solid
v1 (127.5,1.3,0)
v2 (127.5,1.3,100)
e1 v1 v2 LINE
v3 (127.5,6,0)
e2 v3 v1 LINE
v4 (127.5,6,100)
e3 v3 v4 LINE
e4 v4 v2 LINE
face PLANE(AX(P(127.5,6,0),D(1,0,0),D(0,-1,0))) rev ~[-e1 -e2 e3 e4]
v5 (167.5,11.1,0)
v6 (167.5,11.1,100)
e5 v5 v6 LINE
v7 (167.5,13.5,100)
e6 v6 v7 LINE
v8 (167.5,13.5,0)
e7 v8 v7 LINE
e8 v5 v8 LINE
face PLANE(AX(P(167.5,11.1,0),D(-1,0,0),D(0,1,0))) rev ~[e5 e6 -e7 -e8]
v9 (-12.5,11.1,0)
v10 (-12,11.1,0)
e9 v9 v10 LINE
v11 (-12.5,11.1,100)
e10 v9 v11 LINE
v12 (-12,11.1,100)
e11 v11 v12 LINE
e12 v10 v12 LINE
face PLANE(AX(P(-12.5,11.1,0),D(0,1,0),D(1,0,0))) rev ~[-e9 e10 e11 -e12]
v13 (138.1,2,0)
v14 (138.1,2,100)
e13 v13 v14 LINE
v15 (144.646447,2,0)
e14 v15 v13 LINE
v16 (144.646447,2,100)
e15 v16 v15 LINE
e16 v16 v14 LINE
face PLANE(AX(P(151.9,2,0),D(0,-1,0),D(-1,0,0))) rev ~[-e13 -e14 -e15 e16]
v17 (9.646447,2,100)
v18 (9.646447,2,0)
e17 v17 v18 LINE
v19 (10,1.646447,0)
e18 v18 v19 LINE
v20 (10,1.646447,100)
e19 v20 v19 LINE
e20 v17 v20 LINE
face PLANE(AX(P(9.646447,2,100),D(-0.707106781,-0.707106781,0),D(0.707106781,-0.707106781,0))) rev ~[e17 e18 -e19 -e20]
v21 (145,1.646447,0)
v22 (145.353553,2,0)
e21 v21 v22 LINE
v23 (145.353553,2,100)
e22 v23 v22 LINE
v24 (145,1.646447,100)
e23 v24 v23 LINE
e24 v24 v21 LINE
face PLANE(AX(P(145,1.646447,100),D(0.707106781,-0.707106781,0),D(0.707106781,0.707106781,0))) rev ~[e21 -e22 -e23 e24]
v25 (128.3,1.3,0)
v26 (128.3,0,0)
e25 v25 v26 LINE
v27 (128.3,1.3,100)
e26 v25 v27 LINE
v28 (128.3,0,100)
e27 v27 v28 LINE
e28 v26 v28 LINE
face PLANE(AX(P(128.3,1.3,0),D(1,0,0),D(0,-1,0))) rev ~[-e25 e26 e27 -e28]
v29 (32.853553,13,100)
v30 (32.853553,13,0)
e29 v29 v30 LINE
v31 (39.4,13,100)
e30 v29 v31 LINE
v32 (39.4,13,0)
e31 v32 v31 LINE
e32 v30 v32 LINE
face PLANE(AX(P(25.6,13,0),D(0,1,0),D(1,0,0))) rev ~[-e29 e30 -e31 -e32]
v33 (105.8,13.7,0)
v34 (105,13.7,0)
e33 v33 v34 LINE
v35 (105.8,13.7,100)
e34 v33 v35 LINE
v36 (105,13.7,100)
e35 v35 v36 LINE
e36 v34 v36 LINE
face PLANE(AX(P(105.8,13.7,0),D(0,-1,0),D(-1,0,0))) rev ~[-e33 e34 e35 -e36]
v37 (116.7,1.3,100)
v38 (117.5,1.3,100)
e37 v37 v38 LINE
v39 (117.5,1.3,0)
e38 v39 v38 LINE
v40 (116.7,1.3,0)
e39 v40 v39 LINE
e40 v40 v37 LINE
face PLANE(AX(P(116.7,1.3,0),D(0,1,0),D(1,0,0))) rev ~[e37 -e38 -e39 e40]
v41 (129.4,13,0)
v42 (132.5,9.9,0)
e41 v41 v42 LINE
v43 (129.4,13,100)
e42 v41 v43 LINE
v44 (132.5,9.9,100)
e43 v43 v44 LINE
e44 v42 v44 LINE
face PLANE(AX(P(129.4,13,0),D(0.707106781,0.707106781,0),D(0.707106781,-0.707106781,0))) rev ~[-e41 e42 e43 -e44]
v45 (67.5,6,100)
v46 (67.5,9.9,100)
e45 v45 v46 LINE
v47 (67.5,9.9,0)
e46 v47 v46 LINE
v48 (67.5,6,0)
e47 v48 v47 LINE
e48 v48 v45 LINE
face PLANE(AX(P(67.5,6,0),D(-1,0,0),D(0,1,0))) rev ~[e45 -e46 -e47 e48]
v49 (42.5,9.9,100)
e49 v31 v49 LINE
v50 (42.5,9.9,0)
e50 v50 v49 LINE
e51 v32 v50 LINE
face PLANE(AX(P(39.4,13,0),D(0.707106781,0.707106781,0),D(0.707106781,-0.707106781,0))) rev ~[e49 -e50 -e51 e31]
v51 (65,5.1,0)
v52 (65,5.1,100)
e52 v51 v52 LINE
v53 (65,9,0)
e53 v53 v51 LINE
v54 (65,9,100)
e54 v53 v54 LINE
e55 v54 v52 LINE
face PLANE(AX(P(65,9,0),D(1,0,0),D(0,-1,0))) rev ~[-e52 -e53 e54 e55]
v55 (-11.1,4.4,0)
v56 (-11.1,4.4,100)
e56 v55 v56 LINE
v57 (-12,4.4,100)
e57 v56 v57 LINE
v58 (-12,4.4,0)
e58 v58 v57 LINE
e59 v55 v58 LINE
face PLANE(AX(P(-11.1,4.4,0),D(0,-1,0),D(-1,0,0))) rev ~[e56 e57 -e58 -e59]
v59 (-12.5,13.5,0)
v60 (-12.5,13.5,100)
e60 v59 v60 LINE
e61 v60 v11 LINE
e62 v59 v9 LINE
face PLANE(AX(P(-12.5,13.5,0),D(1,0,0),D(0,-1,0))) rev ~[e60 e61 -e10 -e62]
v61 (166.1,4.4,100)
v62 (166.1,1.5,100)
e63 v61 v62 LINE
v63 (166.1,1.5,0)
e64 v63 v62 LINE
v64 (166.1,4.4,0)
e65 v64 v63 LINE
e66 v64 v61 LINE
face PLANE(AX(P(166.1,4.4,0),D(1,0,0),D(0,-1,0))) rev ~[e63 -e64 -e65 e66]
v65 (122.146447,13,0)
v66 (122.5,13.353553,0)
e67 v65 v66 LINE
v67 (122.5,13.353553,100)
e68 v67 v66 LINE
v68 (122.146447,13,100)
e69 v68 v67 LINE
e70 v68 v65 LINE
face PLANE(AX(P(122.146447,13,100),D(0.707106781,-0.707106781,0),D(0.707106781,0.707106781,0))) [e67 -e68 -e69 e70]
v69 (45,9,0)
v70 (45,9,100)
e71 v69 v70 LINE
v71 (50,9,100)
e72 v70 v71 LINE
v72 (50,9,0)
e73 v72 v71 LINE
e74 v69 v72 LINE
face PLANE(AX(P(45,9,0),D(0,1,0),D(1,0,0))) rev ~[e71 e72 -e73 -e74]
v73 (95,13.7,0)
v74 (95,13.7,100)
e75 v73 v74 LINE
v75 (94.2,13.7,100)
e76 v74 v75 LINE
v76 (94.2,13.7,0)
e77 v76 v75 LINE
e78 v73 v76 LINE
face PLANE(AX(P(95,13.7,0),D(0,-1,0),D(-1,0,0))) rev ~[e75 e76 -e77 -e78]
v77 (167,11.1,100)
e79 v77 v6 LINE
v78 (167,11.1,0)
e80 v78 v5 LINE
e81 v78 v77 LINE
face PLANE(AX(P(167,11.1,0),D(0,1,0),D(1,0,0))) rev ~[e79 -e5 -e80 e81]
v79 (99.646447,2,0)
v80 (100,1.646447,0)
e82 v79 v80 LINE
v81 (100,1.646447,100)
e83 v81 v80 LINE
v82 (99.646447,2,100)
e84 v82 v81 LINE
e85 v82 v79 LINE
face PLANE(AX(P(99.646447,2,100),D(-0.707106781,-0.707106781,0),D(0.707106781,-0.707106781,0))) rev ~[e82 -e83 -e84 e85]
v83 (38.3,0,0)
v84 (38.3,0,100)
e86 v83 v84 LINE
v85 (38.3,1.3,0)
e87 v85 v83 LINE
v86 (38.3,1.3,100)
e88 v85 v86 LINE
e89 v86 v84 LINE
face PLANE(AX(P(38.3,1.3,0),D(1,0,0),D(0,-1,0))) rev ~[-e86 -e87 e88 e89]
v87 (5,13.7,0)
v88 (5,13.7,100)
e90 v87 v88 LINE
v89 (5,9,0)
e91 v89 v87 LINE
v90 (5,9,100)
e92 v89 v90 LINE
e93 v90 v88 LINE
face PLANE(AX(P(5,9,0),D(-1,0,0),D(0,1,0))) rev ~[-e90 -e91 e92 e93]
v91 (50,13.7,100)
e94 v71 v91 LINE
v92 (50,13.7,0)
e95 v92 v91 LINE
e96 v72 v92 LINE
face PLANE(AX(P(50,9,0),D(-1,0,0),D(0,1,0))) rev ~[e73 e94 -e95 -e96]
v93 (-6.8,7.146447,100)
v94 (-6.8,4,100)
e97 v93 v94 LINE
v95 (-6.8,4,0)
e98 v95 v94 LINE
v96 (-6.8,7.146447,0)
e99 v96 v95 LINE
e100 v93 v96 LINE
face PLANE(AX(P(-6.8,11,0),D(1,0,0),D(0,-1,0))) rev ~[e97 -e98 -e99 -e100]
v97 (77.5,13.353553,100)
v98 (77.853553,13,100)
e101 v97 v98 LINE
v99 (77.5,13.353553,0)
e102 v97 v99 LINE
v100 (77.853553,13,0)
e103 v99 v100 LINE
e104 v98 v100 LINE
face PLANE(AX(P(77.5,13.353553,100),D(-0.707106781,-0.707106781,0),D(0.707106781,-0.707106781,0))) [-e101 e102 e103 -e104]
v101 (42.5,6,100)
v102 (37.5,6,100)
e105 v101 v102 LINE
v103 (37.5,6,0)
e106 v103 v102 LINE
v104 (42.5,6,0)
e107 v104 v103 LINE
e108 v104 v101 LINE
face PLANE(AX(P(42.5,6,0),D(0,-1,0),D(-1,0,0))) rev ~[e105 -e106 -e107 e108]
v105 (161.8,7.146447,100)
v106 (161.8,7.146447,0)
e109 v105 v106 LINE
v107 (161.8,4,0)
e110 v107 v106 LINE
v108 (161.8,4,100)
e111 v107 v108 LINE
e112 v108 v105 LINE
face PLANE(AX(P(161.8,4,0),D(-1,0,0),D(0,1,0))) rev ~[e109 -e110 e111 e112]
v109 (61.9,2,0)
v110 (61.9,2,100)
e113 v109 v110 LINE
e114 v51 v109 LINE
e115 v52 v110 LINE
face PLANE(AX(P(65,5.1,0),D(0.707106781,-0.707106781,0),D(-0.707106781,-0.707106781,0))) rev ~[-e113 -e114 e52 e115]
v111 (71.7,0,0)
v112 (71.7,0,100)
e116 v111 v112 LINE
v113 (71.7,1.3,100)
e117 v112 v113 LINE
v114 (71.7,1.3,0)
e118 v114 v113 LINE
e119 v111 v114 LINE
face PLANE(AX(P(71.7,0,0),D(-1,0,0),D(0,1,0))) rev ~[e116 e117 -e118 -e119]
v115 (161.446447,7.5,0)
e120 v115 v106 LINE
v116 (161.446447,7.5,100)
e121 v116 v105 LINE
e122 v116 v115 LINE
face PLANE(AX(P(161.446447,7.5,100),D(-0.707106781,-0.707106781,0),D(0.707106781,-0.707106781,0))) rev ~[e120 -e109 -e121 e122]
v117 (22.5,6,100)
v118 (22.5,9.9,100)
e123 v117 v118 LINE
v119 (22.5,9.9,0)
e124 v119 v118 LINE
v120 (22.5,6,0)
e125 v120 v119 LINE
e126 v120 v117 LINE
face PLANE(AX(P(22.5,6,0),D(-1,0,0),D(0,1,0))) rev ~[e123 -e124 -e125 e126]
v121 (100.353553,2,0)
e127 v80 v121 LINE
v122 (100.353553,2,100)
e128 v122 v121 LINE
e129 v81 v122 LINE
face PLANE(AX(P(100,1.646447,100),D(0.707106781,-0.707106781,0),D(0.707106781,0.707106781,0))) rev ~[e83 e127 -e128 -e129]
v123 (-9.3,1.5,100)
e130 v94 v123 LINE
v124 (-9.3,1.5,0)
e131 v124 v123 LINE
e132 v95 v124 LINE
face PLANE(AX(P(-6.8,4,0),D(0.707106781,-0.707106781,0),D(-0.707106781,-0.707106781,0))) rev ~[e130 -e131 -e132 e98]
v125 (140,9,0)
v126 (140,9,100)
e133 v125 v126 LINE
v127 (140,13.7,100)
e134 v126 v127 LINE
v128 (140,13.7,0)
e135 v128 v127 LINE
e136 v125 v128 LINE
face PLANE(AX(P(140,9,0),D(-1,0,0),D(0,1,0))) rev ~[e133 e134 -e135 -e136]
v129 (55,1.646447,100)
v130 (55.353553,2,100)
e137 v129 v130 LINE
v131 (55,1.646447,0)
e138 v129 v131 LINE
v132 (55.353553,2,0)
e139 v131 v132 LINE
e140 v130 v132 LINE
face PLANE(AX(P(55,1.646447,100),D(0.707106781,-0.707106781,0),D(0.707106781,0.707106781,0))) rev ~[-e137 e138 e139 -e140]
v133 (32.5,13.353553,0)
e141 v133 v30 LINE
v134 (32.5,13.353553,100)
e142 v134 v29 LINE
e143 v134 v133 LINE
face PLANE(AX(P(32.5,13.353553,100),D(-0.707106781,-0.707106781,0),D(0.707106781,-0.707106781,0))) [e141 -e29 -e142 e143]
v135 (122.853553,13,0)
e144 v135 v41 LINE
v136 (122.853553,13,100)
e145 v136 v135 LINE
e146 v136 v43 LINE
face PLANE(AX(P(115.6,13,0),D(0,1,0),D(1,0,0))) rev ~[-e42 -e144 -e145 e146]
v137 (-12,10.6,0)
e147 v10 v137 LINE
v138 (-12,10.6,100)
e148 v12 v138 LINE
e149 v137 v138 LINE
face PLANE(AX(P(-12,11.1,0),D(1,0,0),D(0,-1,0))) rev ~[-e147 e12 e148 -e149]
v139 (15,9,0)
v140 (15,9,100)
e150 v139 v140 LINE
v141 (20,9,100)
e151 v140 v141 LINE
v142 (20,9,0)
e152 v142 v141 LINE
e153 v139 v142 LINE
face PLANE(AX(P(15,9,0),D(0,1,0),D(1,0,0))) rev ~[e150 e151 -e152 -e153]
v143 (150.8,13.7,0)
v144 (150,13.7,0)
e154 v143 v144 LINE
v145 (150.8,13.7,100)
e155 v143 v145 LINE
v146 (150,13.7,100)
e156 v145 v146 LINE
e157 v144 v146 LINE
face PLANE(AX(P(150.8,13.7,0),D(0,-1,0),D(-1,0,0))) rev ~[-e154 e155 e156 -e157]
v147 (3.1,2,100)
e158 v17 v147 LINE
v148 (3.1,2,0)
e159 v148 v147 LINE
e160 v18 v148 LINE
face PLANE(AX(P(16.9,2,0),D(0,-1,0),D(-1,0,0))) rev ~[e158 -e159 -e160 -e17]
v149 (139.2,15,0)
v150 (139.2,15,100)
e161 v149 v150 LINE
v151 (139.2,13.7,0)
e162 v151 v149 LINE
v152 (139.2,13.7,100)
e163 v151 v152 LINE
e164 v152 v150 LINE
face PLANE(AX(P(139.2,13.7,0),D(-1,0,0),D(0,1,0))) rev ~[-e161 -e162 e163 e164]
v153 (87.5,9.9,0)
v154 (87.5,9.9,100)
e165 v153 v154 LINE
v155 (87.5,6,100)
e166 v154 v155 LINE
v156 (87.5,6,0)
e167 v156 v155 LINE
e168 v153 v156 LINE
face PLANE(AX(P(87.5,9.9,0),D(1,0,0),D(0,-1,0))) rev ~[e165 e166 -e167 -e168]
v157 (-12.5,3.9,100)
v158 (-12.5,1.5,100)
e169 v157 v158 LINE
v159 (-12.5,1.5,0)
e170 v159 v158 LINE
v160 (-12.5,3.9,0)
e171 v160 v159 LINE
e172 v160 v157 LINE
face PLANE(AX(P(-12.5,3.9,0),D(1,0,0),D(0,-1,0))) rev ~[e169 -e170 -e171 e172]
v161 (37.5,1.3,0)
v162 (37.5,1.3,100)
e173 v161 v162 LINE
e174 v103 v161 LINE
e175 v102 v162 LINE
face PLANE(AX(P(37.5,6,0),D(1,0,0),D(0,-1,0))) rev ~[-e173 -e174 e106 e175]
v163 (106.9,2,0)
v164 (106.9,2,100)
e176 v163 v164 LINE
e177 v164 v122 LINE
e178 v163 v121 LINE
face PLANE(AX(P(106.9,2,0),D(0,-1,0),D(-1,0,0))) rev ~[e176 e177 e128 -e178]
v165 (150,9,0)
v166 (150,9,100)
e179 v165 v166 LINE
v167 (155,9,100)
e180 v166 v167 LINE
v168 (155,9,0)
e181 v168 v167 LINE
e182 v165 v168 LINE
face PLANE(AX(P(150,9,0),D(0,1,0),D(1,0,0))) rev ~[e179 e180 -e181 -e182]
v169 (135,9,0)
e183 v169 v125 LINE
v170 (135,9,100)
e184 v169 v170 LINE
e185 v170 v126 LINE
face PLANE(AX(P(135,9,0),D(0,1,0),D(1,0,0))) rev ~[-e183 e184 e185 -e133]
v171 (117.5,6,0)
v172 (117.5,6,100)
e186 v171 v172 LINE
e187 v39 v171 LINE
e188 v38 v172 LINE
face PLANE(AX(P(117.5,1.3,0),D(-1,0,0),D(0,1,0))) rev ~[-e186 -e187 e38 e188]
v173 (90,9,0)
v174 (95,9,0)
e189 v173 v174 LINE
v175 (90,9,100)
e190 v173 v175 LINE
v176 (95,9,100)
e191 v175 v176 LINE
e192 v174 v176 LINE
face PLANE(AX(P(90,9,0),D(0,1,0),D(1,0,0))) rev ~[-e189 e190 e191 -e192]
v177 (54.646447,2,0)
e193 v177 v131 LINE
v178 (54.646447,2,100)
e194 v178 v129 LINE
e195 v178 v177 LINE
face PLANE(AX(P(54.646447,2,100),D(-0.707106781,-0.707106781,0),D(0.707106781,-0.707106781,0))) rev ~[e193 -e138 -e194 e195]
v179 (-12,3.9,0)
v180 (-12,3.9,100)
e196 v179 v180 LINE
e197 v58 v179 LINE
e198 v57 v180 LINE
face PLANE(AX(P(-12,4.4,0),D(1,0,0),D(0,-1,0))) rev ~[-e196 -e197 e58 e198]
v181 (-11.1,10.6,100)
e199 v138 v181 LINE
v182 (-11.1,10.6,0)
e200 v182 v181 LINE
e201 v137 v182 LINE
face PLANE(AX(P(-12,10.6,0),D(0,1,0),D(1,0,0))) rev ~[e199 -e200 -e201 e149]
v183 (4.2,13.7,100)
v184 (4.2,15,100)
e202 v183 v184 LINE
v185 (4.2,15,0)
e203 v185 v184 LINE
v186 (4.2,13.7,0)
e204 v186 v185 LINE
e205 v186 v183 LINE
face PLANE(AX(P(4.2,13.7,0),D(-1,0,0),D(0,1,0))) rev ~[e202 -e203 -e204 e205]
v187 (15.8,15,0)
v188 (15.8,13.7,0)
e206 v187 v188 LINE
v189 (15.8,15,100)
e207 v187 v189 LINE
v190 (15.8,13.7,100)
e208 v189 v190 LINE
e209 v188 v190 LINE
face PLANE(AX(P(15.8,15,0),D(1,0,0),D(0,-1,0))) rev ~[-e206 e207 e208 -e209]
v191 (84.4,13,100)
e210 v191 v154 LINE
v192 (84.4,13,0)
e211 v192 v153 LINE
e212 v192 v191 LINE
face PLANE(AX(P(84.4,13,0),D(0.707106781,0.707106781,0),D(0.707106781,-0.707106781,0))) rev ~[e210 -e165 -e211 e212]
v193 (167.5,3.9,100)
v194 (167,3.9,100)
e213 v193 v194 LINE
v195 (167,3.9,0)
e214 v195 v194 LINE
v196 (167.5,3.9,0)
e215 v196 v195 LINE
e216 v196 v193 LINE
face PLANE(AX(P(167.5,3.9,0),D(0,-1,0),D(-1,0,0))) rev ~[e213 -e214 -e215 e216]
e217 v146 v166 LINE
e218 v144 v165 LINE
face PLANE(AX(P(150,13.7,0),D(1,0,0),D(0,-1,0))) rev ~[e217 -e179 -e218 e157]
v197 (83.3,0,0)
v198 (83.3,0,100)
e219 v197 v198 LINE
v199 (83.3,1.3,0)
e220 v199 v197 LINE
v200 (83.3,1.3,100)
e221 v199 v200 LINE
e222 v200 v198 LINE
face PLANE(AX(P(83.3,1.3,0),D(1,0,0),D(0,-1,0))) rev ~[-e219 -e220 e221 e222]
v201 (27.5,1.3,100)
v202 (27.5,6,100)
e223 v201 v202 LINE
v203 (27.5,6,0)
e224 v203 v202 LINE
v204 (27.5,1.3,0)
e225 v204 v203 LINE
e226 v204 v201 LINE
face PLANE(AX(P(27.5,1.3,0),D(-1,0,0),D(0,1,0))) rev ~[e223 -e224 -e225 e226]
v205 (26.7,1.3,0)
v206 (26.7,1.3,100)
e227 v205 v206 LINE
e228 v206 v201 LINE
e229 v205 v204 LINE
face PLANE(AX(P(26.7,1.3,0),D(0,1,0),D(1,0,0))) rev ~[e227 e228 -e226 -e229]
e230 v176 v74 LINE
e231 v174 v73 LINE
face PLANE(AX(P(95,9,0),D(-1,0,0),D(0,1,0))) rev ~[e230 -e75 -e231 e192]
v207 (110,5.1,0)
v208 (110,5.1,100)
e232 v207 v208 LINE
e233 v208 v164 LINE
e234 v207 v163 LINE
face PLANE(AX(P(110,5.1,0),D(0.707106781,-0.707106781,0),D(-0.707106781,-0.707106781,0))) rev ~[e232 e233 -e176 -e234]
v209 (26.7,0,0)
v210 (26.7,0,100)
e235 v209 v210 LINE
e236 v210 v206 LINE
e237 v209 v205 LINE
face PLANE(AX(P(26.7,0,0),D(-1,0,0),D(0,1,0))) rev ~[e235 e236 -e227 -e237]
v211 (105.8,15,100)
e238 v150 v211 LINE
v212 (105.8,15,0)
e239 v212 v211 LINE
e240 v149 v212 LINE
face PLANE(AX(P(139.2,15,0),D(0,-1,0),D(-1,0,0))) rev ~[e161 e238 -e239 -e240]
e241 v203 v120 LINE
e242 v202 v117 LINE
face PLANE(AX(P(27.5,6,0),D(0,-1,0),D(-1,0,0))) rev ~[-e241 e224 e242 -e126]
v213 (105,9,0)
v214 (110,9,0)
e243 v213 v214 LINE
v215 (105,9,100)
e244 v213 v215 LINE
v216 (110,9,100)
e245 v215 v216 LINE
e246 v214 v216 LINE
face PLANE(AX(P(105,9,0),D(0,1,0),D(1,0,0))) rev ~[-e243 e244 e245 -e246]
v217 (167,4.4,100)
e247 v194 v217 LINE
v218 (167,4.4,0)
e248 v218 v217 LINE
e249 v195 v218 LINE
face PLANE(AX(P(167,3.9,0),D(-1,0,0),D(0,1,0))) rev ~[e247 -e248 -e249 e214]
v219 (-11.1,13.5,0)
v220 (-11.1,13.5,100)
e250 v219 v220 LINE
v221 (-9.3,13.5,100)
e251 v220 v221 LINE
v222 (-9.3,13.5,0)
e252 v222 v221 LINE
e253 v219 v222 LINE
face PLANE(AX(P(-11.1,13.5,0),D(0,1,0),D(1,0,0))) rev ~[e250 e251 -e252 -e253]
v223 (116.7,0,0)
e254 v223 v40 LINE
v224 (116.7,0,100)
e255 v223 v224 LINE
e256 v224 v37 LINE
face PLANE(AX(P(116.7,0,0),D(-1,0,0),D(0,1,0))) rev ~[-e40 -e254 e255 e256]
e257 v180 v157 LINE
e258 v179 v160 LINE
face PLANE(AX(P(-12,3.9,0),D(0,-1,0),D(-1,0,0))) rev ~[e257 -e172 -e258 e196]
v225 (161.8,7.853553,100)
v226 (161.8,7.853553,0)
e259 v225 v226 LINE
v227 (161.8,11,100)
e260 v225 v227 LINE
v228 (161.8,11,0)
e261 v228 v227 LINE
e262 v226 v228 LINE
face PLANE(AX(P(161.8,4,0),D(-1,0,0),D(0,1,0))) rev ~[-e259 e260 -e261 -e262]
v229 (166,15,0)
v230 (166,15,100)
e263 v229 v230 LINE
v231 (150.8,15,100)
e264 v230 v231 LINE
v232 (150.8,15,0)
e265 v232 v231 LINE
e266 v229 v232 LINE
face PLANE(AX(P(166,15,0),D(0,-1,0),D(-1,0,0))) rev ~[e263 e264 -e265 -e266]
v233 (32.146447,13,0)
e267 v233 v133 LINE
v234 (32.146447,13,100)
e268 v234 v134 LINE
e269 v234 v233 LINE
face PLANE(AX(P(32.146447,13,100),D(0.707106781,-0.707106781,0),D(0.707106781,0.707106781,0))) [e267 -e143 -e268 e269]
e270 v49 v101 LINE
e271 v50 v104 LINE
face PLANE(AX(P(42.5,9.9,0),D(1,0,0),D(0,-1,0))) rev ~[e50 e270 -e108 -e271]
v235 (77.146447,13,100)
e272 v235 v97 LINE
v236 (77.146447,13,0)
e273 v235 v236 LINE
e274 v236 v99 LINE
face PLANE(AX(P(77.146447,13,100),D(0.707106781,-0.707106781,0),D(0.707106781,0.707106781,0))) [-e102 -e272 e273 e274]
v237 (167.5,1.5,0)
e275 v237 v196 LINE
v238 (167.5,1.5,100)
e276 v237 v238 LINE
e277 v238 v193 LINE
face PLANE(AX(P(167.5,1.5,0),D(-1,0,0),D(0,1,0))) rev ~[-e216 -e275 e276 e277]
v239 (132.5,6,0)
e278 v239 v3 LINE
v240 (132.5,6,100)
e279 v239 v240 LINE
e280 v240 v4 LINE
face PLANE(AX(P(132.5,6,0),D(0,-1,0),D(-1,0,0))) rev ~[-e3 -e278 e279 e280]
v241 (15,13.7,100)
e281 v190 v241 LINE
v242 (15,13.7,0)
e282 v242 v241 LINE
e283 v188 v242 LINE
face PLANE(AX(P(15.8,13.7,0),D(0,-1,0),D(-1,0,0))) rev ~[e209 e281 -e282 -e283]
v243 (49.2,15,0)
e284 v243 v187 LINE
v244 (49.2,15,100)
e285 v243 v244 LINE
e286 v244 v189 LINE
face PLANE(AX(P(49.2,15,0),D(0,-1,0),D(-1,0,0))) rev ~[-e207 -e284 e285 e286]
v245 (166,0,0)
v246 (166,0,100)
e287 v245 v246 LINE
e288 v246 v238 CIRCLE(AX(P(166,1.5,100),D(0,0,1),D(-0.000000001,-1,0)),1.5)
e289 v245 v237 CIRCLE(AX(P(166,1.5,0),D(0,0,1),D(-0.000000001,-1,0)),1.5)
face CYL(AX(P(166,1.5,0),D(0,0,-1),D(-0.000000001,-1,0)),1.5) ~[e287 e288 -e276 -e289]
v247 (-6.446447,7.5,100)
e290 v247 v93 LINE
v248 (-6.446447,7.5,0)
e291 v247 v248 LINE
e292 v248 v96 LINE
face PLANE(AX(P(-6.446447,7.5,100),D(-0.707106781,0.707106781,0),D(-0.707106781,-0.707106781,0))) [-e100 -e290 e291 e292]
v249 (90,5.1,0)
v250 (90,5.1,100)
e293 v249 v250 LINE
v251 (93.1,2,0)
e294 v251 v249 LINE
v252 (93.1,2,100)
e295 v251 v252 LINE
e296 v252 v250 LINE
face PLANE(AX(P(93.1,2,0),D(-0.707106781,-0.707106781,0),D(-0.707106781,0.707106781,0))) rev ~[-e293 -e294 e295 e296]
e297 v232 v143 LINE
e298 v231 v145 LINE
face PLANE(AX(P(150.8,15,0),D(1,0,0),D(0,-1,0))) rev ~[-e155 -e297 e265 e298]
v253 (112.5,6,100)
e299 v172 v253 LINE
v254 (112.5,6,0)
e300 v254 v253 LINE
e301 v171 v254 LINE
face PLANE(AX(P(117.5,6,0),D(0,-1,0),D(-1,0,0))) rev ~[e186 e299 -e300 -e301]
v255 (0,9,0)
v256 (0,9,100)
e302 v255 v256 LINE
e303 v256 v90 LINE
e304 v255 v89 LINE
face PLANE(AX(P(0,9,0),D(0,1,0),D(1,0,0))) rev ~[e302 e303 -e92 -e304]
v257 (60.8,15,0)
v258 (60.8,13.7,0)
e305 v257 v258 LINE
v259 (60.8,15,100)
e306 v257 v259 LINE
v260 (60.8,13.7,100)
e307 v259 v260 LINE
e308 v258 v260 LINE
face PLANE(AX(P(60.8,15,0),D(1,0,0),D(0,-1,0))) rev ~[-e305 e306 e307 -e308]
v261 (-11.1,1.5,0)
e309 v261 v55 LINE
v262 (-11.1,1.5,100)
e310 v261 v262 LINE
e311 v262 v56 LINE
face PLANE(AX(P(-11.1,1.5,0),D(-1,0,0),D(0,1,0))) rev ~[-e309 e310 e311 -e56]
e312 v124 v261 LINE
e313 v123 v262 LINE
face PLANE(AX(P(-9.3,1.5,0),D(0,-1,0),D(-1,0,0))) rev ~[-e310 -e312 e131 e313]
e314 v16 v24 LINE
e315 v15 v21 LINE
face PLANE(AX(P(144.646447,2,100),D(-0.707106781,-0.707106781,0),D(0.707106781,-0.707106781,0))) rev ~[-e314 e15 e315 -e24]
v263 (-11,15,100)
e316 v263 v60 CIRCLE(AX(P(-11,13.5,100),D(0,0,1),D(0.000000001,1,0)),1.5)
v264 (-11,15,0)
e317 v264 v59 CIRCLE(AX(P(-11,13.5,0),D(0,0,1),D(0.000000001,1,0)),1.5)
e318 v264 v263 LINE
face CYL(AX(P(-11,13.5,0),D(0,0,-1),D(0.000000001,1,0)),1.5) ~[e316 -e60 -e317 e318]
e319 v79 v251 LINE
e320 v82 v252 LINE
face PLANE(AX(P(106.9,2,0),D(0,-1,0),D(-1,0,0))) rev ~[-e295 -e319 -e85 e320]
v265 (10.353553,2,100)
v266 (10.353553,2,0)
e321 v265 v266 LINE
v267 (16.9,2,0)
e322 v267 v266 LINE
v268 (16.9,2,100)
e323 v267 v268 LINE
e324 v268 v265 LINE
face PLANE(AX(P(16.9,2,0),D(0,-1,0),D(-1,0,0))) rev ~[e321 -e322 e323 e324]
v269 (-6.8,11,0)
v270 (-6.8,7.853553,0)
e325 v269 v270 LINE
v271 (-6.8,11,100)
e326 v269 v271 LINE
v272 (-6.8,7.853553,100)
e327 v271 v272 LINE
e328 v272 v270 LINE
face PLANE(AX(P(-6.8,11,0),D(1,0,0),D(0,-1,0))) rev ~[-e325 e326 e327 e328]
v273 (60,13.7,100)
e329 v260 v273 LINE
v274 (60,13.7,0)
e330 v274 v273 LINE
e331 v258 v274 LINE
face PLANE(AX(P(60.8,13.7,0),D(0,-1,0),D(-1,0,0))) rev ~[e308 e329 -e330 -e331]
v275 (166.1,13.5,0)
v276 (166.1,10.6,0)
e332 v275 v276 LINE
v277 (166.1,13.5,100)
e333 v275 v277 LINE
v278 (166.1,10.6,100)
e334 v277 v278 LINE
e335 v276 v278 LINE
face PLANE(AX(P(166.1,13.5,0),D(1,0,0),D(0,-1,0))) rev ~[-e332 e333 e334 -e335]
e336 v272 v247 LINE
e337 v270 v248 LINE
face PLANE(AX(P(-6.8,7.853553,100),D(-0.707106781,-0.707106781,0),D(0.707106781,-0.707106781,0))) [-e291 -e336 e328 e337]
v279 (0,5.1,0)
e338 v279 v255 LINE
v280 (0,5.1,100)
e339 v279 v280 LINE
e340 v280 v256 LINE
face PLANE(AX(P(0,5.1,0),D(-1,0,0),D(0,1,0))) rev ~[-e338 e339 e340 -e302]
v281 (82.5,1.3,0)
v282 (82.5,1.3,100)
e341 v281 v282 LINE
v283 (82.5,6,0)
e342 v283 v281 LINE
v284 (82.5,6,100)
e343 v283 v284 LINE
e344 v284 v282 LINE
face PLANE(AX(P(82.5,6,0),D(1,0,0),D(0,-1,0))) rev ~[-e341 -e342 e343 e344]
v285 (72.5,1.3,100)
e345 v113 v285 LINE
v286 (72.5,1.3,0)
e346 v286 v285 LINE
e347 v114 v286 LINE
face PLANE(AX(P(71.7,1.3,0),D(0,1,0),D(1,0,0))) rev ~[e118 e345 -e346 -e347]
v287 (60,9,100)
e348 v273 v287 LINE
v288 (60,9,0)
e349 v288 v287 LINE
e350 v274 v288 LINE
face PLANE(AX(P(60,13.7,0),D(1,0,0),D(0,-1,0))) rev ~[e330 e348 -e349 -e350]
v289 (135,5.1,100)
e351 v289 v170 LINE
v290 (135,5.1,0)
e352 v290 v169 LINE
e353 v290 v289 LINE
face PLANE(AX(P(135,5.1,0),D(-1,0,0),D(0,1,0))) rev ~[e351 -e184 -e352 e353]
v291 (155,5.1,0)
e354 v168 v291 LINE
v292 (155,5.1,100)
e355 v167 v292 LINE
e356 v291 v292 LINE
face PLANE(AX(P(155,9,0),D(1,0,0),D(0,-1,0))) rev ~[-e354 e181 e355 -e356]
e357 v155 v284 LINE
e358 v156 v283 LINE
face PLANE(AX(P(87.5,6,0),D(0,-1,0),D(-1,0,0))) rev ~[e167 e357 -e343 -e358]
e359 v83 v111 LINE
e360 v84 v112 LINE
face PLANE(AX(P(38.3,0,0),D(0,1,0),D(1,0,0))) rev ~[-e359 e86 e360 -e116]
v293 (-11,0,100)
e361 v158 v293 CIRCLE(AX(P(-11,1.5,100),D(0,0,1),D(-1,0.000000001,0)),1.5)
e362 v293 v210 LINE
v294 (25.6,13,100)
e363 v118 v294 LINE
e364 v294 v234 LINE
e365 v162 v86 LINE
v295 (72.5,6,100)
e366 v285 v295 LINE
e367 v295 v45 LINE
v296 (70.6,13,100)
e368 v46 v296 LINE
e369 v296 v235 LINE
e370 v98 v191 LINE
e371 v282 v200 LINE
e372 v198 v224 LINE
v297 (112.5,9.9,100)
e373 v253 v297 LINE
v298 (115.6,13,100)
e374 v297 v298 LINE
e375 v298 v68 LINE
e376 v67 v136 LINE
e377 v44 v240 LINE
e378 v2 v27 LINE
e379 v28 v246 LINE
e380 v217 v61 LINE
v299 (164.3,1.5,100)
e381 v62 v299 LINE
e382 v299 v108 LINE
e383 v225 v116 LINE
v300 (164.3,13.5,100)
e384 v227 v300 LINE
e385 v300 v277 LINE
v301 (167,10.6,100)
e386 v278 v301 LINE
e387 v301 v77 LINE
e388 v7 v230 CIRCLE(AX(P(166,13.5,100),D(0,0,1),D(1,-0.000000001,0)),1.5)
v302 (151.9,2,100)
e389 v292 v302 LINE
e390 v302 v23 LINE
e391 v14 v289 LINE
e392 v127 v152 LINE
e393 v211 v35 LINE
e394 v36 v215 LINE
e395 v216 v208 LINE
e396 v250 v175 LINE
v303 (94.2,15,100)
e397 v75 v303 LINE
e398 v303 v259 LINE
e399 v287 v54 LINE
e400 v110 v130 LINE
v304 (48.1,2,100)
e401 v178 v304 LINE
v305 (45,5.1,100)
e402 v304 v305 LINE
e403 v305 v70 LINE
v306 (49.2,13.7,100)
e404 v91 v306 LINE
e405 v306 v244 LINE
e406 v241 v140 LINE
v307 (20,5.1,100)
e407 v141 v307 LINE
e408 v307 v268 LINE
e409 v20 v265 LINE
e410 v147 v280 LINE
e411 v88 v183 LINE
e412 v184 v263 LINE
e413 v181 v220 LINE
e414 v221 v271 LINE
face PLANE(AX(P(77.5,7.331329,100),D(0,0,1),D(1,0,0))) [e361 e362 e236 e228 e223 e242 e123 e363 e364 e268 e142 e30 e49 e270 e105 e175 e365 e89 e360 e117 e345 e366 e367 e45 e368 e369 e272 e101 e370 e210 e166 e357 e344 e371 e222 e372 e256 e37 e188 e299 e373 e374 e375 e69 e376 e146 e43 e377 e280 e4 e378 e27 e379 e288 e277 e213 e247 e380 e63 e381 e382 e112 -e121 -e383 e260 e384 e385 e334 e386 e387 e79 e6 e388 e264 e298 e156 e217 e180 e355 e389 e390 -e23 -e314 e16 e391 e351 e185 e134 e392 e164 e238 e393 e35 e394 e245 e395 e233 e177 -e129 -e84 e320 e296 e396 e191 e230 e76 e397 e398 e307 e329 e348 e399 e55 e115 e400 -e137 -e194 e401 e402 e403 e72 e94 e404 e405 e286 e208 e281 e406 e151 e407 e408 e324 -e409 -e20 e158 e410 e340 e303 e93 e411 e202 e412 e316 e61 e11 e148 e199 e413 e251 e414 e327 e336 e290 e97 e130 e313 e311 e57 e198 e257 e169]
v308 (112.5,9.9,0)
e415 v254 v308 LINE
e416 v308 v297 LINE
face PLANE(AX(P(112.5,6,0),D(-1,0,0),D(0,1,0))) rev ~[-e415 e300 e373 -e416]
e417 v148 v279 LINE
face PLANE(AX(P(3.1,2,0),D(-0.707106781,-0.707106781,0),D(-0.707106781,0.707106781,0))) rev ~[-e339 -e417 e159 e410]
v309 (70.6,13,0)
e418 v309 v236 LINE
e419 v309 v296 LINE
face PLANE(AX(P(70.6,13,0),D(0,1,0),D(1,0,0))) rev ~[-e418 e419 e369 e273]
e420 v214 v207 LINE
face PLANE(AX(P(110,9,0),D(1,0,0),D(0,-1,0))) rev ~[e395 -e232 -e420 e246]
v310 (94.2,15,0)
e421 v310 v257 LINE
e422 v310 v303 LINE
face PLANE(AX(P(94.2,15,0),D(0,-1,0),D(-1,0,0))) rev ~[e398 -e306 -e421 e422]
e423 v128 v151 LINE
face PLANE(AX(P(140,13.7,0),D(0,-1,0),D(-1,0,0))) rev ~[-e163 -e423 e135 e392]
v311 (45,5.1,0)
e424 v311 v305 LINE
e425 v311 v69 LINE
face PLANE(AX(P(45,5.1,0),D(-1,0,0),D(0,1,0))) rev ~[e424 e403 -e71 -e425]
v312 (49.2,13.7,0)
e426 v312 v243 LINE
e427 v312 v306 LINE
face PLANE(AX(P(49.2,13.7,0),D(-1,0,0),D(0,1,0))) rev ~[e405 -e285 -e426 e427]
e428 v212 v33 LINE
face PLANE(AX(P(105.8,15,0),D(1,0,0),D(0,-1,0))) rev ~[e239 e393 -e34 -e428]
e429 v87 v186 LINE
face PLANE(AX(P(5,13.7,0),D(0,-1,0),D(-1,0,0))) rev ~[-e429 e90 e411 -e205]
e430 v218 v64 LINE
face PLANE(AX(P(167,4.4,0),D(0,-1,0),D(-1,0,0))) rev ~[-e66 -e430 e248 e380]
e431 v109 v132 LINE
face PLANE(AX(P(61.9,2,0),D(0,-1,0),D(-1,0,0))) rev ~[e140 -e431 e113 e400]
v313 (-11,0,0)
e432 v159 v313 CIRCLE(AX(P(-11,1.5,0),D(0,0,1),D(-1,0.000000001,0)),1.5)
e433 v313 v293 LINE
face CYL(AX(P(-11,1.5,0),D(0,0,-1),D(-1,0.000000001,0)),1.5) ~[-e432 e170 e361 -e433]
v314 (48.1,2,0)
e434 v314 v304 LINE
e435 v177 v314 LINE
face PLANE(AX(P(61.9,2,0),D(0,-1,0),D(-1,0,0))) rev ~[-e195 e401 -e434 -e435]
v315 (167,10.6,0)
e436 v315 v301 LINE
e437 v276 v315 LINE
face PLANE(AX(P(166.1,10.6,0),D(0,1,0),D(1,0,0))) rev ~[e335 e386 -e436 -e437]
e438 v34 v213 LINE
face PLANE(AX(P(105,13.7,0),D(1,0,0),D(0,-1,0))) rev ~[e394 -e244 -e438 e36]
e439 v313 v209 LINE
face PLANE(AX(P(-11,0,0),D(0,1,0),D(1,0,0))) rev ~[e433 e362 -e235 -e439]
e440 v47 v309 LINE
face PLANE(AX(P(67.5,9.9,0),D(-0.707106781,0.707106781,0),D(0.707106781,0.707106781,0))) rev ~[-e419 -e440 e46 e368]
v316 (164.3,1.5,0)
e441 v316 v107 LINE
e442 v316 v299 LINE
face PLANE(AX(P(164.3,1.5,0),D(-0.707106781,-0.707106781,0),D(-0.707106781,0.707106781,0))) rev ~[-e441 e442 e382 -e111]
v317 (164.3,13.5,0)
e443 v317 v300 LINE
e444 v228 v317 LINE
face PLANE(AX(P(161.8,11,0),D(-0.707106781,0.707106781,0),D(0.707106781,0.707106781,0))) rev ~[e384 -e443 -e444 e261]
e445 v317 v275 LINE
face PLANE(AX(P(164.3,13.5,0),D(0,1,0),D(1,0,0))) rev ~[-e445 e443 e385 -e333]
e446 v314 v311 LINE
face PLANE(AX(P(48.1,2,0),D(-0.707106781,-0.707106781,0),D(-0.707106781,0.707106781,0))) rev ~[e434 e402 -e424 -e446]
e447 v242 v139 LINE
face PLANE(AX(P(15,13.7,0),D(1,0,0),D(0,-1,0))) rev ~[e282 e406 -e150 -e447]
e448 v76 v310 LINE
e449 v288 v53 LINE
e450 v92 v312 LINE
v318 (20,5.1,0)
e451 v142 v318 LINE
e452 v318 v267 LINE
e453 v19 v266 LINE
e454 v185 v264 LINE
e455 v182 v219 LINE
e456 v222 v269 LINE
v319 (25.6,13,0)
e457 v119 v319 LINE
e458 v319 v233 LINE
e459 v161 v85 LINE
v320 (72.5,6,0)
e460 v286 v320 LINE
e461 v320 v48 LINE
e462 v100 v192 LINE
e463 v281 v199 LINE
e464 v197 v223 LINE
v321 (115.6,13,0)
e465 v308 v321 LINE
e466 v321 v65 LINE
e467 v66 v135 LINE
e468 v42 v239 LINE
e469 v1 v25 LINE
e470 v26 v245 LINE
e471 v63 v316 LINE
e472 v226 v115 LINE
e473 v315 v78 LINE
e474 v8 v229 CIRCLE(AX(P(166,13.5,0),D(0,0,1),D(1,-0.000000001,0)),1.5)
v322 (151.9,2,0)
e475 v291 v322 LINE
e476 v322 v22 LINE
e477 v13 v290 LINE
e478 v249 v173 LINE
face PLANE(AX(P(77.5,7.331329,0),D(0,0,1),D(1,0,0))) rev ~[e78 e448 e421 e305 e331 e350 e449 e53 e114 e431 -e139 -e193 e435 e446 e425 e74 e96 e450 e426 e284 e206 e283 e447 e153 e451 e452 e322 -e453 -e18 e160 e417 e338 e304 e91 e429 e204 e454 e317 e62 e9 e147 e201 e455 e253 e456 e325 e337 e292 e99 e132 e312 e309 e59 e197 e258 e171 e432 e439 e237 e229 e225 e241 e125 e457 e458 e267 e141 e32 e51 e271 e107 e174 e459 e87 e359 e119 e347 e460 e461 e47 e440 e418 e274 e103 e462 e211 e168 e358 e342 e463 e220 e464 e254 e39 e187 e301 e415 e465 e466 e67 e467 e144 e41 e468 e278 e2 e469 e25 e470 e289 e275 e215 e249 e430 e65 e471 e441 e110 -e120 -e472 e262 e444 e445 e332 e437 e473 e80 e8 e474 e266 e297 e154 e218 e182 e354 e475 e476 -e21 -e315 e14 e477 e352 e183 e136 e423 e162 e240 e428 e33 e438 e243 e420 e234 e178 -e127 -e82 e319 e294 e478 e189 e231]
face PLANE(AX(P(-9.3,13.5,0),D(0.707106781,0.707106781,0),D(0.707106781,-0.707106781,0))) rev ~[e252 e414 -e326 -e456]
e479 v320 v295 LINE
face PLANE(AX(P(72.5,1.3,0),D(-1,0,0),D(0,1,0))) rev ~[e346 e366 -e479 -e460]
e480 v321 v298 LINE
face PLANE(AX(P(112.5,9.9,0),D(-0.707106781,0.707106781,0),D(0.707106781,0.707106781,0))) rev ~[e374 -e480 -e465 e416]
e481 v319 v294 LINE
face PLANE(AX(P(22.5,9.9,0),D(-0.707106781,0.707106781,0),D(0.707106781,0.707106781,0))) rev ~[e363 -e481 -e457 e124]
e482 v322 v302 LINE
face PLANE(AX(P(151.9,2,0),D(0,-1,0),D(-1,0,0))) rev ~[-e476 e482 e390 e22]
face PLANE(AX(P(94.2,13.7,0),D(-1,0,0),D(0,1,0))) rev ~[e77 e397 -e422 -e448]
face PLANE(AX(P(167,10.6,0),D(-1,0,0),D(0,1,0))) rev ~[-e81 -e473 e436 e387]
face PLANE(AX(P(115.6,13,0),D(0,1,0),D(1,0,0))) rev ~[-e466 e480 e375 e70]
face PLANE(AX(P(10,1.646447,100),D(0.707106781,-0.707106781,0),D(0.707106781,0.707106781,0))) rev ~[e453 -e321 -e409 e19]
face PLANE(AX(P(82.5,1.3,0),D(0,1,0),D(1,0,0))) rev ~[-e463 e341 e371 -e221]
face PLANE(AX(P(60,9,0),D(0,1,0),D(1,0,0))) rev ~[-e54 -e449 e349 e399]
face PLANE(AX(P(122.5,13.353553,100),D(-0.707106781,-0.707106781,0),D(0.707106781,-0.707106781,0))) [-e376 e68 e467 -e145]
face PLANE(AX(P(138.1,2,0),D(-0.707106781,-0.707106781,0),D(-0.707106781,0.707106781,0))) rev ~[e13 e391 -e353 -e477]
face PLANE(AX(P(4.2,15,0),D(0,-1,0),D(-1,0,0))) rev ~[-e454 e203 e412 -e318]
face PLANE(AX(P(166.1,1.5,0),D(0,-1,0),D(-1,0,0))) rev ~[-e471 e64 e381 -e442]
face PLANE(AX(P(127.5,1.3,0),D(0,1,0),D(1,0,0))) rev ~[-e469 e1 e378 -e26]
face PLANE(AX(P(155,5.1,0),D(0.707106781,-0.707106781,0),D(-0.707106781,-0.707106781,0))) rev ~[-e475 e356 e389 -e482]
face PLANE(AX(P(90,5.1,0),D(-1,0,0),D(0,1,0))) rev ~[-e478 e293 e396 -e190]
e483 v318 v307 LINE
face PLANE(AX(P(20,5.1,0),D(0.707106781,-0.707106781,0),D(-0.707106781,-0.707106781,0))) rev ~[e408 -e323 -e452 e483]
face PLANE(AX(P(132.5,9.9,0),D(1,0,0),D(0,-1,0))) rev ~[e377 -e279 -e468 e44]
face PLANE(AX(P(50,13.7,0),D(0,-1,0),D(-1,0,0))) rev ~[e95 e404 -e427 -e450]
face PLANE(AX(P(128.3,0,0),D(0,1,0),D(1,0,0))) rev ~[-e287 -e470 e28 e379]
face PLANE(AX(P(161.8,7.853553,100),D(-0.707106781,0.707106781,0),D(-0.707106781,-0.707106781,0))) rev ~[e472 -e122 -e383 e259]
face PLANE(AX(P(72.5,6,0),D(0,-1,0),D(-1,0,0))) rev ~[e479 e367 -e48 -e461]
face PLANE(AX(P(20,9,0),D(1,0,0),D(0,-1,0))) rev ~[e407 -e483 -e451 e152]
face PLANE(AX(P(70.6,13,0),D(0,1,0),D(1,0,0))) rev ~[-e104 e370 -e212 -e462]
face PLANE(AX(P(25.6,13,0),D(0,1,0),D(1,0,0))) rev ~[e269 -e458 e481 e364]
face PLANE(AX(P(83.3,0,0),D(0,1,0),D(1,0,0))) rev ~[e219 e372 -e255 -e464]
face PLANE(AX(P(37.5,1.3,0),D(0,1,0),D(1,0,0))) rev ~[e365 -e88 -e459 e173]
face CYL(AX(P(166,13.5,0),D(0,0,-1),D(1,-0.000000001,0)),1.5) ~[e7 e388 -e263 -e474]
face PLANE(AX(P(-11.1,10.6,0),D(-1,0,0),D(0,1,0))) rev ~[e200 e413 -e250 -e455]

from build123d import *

# Parameters (mm, degrees)
EXTRUDE_1_DEPTH     = 100
CUT_EXTRUDE_1_DEPTH = 100


with BuildPart() as part:
    # Model → Бобышка-Вытянуть1 (new body)
    with BuildSketch(Plane.XY):
        with BuildLine():
            Line((-12.5, 11.1), (-12, 11.1))
            Line((-12, 11.1), (-12, 10.6))
            Line((-12, 10.6), (-11.1, 10.6))
            Line((-11.1, 10.6), (-11.1, 13.5))
            Line((-11.1, 13.5), (-9.3, 13.5))
            Line((-9.3, 13.5), (-6.8, 11))
            Line((-6.8, 11), (-6.8, 4))
            Line((-6.8, 4), (-9.3, 1.5))
            Line((-9.3, 1.5), (-11.1, 1.5))
            Line((-11.1, 1.5), (-11.1, 4.4))
            Line((-11.1, 4.4), (-12, 4.4))
            Line((-12, 4.4), (-12, 3.9))
            Line((-12, 3.9), (-12.5, 3.9))
            Line((-12.5, 3.9), (-12.5, 1.5))
            ThreePointArc((-12.5, 1.5), (-12.060660172, 0.439339828), (-11, 0))
            Line((-11, 0), (26.7, 0))
            Line((26.7, 0), (26.7, 1.3))
            Line((26.7, 1.3), (27.5, 1.3))
            Line((27.5, 1.3), (27.5, 6))
            Line((27.5, 6), (22.5, 6))
            Line((22.5, 6), (22.5, 9.9))
            Line((22.5, 9.9), (25.6, 13))
            Line((25.6, 13), (39.4, 13))
            Line((39.4, 13), (42.5, 9.9))
            Line((42.5, 9.9), (42.5, 6))
            Line((42.5, 6), (37.5, 6))
            Line((37.5, 6), (37.5, 1.3))
            Line((37.5, 1.3), (38.3, 1.3))
            Line((38.3, 1.3), (38.3, 0))
            Line((38.3, 0), (71.7, 0))
            Line((71.7, 0), (71.7, 1.3))
            Line((71.7, 1.3), (72.5, 1.3))
            Line((72.5, 1.3), (72.5, 6))
            Line((72.5, 6), (67.5, 6))
            Line((67.5, 6), (67.5, 9.9))
            Line((67.5, 9.9), (70.6, 13))
            Line((70.6, 13), (84.4, 13))
            Line((84.4, 13), (87.5, 9.9))
            Line((87.5, 9.9), (87.5, 6))
            Line((87.5, 6), (82.5, 6))
            Line((82.5, 6), (82.5, 1.3))
            Line((82.5, 1.3), (83.3, 1.3))
            Line((83.3, 1.3), (83.3, 0))
            Line((83.3, 0), (116.7, 0))
            Line((116.7, 0), (116.7, 1.3))
            Line((116.7, 1.3), (117.5, 1.3))
            Line((117.5, 1.3), (117.5, 6))
            Line((117.5, 6), (112.5, 6))
            Line((112.5, 6), (112.5, 9.9))
            Line((112.5, 9.9), (115.6, 13))
            Line((115.6, 13), (129.4, 13))
            Line((129.4, 13), (132.5, 9.9))
            Line((132.5, 9.9), (132.5, 6))
            Line((132.5, 6), (127.5, 6))
            Line((127.5, 6), (127.5, 1.3))
            Line((127.5, 1.3), (128.3, 1.3))
            Line((128.3, 1.3), (128.3, 0))
            Line((128.3, 0), (166, 0))
            ThreePointArc((166, 0), (167.060660172, 0.439339828), (167.5, 1.5))
            Line((167.5, 1.5), (167.5, 3.9))
            Line((167.5, 3.9), (167, 3.9))
            Line((167, 3.9), (167, 4.4))
            Line((167, 4.4), (166.1, 4.4))
            Line((166.1, 4.4), (166.1, 1.5))
            Line((166.1, 1.5), (164.3, 1.5))
            Line((164.3, 1.5), (161.8, 4))
            Line((161.8, 4), (161.8, 11))
            Line((161.8, 11), (164.3, 13.5))
            Line((164.3, 13.5), (166.1, 13.5))
            Line((166.1, 13.5), (166.1, 10.6))
            Line((166.1, 10.6), (167, 10.6))
            Line((167, 10.6), (167, 11.1))
            Line((167, 11.1), (167.5, 11.1))
            Line((167.5, 11.1), (167.5, 13.5))
            ThreePointArc((167.5, 13.5), (167.060660172, 14.560660172), (166, 15))
            Line((166, 15), (150.8, 15))
            Line((150.8, 15), (150.8, 13.7))
            Line((150.8, 13.7), (150, 13.7))
            Line((150, 13.7), (150, 9))
            Line((150, 9), (155, 9))
            Line((155, 9), (155, 5.1))
            Line((155, 5.1), (151.9, 2))
            Line((151.9, 2), (138.1, 2))
            Line((138.1, 2), (135, 5.1))
            Line((135, 5.1), (135, 9))
            Line((135, 9), (140, 9))
            Line((140, 9), (140, 13.7))
            Line((140, 13.7), (139.2, 13.7))
            Line((139.2, 13.7), (139.2, 15))
            Line((139.2, 15), (105.8, 15))
            Line((105.8, 15), (105.8, 13.7))
            Line((105.8, 13.7), (105, 13.7))
            Line((105, 13.7), (105, 9))
            Line((105, 9), (110, 9))
            Line((110, 9), (110, 5.1))
            Line((110, 5.1), (106.9, 2))
            Line((106.9, 2), (93.1, 2))
            Line((93.1, 2), (90, 5.1))
            Line((90, 5.1), (90, 9))
            Line((90, 9), (95, 9))
            Line((95, 9), (95, 13.7))
            Line((95, 13.7), (94.2, 13.7))
            Line((94.2, 13.7), (94.2, 15))
            Line((94.2, 15), (60.8, 15))
            Line((60.8, 15), (60.8, 13.7))
            Line((60.8, 13.7), (60, 13.7))
            Line((60, 13.7), (60, 9))
            Line((60, 9), (65, 9))
            Line((65, 9), (65, 5.1))
            Line((65, 5.1), (61.9, 2))
            Line((61.9, 2), (48.1, 2))
            Line((48.1, 2), (45, 5.1))
            Line((45, 5.1), (45, 9))
            Line((45, 9), (50, 9))
            Line((50, 9), (50, 13.7))
            Line((50, 13.7), (49.2, 13.7))
            Line((49.2, 13.7), (49.2, 15))
            Line((49.2, 15), (15.8, 15))
            Line((15.8, 15), (15.8, 13.7))
            Line((15.8, 13.7), (15, 13.7))
            Line((15, 13.7), (15, 9))
            Line((15, 9), (20, 9))
            Line((20, 9), (20, 5.1))
            Line((20, 5.1), (16.9, 2))
            Line((16.9, 2), (3.1, 2))
            Line((3.1, 2), (0, 5.1))
            Line((0, 5.1), (0, 9))
            Line((0, 9), (5, 9))
            Line((5, 9), (5, 13.7))
            Line((5, 13.7), (4.2, 13.7))
            Line((4.2, 13.7), (4.2, 15))
            Line((4.2, 15), (-11, 15))
            ThreePointArc((-11, 15), (-12.060660172, 14.560660172), (-12.5, 13.5))
            Line((-12.5, 13.5), (-12.5, 11.1))
        make_face()
    extrude(amount=EXTRUDE_1_DEPTH)

    # Эскиз1 → Вырез-Вытянуть1 (cut)
    with BuildSketch(Plane.XY.offset(100)):
        Polygon((-6.8, 7.853553391), (-6.446446609, 7.5), (-6.8, 7.146446609), align=None)
        Polygon((9.646446609, 2), (10, 1.646446609), (10.353553391, 2), align=None)
        Polygon((32.146446609, 13), (32.5, 13.353553391), (32.853553391, 13), align=None)
        Polygon((54.646446609, 2), (55, 1.646446609), (55.353553391, 2), align=None)
        Polygon((77.146446609, 13), (77.5, 13.353553391), (77.853553391, 13), align=None)
        Polygon((99.646446609, 2), (100, 1.646446609), (100.353553391, 2), align=None)
        Polygon((122.146446609, 13), (122.5, 13.353553391), (122.853553391, 13), align=None)
        Polygon((144.646446609, 2), (145, 1.646446609), (145.353553391, 2), align=None)
        Polygon((161.8, 7.853553391), (161.446446609, 7.5), (161.8, 7.146446609), align=None)
    extrude(amount=-CUT_EXTRUDE_1_DEPTH, mode=Mode.SUBTRACT)


solid = part.part
